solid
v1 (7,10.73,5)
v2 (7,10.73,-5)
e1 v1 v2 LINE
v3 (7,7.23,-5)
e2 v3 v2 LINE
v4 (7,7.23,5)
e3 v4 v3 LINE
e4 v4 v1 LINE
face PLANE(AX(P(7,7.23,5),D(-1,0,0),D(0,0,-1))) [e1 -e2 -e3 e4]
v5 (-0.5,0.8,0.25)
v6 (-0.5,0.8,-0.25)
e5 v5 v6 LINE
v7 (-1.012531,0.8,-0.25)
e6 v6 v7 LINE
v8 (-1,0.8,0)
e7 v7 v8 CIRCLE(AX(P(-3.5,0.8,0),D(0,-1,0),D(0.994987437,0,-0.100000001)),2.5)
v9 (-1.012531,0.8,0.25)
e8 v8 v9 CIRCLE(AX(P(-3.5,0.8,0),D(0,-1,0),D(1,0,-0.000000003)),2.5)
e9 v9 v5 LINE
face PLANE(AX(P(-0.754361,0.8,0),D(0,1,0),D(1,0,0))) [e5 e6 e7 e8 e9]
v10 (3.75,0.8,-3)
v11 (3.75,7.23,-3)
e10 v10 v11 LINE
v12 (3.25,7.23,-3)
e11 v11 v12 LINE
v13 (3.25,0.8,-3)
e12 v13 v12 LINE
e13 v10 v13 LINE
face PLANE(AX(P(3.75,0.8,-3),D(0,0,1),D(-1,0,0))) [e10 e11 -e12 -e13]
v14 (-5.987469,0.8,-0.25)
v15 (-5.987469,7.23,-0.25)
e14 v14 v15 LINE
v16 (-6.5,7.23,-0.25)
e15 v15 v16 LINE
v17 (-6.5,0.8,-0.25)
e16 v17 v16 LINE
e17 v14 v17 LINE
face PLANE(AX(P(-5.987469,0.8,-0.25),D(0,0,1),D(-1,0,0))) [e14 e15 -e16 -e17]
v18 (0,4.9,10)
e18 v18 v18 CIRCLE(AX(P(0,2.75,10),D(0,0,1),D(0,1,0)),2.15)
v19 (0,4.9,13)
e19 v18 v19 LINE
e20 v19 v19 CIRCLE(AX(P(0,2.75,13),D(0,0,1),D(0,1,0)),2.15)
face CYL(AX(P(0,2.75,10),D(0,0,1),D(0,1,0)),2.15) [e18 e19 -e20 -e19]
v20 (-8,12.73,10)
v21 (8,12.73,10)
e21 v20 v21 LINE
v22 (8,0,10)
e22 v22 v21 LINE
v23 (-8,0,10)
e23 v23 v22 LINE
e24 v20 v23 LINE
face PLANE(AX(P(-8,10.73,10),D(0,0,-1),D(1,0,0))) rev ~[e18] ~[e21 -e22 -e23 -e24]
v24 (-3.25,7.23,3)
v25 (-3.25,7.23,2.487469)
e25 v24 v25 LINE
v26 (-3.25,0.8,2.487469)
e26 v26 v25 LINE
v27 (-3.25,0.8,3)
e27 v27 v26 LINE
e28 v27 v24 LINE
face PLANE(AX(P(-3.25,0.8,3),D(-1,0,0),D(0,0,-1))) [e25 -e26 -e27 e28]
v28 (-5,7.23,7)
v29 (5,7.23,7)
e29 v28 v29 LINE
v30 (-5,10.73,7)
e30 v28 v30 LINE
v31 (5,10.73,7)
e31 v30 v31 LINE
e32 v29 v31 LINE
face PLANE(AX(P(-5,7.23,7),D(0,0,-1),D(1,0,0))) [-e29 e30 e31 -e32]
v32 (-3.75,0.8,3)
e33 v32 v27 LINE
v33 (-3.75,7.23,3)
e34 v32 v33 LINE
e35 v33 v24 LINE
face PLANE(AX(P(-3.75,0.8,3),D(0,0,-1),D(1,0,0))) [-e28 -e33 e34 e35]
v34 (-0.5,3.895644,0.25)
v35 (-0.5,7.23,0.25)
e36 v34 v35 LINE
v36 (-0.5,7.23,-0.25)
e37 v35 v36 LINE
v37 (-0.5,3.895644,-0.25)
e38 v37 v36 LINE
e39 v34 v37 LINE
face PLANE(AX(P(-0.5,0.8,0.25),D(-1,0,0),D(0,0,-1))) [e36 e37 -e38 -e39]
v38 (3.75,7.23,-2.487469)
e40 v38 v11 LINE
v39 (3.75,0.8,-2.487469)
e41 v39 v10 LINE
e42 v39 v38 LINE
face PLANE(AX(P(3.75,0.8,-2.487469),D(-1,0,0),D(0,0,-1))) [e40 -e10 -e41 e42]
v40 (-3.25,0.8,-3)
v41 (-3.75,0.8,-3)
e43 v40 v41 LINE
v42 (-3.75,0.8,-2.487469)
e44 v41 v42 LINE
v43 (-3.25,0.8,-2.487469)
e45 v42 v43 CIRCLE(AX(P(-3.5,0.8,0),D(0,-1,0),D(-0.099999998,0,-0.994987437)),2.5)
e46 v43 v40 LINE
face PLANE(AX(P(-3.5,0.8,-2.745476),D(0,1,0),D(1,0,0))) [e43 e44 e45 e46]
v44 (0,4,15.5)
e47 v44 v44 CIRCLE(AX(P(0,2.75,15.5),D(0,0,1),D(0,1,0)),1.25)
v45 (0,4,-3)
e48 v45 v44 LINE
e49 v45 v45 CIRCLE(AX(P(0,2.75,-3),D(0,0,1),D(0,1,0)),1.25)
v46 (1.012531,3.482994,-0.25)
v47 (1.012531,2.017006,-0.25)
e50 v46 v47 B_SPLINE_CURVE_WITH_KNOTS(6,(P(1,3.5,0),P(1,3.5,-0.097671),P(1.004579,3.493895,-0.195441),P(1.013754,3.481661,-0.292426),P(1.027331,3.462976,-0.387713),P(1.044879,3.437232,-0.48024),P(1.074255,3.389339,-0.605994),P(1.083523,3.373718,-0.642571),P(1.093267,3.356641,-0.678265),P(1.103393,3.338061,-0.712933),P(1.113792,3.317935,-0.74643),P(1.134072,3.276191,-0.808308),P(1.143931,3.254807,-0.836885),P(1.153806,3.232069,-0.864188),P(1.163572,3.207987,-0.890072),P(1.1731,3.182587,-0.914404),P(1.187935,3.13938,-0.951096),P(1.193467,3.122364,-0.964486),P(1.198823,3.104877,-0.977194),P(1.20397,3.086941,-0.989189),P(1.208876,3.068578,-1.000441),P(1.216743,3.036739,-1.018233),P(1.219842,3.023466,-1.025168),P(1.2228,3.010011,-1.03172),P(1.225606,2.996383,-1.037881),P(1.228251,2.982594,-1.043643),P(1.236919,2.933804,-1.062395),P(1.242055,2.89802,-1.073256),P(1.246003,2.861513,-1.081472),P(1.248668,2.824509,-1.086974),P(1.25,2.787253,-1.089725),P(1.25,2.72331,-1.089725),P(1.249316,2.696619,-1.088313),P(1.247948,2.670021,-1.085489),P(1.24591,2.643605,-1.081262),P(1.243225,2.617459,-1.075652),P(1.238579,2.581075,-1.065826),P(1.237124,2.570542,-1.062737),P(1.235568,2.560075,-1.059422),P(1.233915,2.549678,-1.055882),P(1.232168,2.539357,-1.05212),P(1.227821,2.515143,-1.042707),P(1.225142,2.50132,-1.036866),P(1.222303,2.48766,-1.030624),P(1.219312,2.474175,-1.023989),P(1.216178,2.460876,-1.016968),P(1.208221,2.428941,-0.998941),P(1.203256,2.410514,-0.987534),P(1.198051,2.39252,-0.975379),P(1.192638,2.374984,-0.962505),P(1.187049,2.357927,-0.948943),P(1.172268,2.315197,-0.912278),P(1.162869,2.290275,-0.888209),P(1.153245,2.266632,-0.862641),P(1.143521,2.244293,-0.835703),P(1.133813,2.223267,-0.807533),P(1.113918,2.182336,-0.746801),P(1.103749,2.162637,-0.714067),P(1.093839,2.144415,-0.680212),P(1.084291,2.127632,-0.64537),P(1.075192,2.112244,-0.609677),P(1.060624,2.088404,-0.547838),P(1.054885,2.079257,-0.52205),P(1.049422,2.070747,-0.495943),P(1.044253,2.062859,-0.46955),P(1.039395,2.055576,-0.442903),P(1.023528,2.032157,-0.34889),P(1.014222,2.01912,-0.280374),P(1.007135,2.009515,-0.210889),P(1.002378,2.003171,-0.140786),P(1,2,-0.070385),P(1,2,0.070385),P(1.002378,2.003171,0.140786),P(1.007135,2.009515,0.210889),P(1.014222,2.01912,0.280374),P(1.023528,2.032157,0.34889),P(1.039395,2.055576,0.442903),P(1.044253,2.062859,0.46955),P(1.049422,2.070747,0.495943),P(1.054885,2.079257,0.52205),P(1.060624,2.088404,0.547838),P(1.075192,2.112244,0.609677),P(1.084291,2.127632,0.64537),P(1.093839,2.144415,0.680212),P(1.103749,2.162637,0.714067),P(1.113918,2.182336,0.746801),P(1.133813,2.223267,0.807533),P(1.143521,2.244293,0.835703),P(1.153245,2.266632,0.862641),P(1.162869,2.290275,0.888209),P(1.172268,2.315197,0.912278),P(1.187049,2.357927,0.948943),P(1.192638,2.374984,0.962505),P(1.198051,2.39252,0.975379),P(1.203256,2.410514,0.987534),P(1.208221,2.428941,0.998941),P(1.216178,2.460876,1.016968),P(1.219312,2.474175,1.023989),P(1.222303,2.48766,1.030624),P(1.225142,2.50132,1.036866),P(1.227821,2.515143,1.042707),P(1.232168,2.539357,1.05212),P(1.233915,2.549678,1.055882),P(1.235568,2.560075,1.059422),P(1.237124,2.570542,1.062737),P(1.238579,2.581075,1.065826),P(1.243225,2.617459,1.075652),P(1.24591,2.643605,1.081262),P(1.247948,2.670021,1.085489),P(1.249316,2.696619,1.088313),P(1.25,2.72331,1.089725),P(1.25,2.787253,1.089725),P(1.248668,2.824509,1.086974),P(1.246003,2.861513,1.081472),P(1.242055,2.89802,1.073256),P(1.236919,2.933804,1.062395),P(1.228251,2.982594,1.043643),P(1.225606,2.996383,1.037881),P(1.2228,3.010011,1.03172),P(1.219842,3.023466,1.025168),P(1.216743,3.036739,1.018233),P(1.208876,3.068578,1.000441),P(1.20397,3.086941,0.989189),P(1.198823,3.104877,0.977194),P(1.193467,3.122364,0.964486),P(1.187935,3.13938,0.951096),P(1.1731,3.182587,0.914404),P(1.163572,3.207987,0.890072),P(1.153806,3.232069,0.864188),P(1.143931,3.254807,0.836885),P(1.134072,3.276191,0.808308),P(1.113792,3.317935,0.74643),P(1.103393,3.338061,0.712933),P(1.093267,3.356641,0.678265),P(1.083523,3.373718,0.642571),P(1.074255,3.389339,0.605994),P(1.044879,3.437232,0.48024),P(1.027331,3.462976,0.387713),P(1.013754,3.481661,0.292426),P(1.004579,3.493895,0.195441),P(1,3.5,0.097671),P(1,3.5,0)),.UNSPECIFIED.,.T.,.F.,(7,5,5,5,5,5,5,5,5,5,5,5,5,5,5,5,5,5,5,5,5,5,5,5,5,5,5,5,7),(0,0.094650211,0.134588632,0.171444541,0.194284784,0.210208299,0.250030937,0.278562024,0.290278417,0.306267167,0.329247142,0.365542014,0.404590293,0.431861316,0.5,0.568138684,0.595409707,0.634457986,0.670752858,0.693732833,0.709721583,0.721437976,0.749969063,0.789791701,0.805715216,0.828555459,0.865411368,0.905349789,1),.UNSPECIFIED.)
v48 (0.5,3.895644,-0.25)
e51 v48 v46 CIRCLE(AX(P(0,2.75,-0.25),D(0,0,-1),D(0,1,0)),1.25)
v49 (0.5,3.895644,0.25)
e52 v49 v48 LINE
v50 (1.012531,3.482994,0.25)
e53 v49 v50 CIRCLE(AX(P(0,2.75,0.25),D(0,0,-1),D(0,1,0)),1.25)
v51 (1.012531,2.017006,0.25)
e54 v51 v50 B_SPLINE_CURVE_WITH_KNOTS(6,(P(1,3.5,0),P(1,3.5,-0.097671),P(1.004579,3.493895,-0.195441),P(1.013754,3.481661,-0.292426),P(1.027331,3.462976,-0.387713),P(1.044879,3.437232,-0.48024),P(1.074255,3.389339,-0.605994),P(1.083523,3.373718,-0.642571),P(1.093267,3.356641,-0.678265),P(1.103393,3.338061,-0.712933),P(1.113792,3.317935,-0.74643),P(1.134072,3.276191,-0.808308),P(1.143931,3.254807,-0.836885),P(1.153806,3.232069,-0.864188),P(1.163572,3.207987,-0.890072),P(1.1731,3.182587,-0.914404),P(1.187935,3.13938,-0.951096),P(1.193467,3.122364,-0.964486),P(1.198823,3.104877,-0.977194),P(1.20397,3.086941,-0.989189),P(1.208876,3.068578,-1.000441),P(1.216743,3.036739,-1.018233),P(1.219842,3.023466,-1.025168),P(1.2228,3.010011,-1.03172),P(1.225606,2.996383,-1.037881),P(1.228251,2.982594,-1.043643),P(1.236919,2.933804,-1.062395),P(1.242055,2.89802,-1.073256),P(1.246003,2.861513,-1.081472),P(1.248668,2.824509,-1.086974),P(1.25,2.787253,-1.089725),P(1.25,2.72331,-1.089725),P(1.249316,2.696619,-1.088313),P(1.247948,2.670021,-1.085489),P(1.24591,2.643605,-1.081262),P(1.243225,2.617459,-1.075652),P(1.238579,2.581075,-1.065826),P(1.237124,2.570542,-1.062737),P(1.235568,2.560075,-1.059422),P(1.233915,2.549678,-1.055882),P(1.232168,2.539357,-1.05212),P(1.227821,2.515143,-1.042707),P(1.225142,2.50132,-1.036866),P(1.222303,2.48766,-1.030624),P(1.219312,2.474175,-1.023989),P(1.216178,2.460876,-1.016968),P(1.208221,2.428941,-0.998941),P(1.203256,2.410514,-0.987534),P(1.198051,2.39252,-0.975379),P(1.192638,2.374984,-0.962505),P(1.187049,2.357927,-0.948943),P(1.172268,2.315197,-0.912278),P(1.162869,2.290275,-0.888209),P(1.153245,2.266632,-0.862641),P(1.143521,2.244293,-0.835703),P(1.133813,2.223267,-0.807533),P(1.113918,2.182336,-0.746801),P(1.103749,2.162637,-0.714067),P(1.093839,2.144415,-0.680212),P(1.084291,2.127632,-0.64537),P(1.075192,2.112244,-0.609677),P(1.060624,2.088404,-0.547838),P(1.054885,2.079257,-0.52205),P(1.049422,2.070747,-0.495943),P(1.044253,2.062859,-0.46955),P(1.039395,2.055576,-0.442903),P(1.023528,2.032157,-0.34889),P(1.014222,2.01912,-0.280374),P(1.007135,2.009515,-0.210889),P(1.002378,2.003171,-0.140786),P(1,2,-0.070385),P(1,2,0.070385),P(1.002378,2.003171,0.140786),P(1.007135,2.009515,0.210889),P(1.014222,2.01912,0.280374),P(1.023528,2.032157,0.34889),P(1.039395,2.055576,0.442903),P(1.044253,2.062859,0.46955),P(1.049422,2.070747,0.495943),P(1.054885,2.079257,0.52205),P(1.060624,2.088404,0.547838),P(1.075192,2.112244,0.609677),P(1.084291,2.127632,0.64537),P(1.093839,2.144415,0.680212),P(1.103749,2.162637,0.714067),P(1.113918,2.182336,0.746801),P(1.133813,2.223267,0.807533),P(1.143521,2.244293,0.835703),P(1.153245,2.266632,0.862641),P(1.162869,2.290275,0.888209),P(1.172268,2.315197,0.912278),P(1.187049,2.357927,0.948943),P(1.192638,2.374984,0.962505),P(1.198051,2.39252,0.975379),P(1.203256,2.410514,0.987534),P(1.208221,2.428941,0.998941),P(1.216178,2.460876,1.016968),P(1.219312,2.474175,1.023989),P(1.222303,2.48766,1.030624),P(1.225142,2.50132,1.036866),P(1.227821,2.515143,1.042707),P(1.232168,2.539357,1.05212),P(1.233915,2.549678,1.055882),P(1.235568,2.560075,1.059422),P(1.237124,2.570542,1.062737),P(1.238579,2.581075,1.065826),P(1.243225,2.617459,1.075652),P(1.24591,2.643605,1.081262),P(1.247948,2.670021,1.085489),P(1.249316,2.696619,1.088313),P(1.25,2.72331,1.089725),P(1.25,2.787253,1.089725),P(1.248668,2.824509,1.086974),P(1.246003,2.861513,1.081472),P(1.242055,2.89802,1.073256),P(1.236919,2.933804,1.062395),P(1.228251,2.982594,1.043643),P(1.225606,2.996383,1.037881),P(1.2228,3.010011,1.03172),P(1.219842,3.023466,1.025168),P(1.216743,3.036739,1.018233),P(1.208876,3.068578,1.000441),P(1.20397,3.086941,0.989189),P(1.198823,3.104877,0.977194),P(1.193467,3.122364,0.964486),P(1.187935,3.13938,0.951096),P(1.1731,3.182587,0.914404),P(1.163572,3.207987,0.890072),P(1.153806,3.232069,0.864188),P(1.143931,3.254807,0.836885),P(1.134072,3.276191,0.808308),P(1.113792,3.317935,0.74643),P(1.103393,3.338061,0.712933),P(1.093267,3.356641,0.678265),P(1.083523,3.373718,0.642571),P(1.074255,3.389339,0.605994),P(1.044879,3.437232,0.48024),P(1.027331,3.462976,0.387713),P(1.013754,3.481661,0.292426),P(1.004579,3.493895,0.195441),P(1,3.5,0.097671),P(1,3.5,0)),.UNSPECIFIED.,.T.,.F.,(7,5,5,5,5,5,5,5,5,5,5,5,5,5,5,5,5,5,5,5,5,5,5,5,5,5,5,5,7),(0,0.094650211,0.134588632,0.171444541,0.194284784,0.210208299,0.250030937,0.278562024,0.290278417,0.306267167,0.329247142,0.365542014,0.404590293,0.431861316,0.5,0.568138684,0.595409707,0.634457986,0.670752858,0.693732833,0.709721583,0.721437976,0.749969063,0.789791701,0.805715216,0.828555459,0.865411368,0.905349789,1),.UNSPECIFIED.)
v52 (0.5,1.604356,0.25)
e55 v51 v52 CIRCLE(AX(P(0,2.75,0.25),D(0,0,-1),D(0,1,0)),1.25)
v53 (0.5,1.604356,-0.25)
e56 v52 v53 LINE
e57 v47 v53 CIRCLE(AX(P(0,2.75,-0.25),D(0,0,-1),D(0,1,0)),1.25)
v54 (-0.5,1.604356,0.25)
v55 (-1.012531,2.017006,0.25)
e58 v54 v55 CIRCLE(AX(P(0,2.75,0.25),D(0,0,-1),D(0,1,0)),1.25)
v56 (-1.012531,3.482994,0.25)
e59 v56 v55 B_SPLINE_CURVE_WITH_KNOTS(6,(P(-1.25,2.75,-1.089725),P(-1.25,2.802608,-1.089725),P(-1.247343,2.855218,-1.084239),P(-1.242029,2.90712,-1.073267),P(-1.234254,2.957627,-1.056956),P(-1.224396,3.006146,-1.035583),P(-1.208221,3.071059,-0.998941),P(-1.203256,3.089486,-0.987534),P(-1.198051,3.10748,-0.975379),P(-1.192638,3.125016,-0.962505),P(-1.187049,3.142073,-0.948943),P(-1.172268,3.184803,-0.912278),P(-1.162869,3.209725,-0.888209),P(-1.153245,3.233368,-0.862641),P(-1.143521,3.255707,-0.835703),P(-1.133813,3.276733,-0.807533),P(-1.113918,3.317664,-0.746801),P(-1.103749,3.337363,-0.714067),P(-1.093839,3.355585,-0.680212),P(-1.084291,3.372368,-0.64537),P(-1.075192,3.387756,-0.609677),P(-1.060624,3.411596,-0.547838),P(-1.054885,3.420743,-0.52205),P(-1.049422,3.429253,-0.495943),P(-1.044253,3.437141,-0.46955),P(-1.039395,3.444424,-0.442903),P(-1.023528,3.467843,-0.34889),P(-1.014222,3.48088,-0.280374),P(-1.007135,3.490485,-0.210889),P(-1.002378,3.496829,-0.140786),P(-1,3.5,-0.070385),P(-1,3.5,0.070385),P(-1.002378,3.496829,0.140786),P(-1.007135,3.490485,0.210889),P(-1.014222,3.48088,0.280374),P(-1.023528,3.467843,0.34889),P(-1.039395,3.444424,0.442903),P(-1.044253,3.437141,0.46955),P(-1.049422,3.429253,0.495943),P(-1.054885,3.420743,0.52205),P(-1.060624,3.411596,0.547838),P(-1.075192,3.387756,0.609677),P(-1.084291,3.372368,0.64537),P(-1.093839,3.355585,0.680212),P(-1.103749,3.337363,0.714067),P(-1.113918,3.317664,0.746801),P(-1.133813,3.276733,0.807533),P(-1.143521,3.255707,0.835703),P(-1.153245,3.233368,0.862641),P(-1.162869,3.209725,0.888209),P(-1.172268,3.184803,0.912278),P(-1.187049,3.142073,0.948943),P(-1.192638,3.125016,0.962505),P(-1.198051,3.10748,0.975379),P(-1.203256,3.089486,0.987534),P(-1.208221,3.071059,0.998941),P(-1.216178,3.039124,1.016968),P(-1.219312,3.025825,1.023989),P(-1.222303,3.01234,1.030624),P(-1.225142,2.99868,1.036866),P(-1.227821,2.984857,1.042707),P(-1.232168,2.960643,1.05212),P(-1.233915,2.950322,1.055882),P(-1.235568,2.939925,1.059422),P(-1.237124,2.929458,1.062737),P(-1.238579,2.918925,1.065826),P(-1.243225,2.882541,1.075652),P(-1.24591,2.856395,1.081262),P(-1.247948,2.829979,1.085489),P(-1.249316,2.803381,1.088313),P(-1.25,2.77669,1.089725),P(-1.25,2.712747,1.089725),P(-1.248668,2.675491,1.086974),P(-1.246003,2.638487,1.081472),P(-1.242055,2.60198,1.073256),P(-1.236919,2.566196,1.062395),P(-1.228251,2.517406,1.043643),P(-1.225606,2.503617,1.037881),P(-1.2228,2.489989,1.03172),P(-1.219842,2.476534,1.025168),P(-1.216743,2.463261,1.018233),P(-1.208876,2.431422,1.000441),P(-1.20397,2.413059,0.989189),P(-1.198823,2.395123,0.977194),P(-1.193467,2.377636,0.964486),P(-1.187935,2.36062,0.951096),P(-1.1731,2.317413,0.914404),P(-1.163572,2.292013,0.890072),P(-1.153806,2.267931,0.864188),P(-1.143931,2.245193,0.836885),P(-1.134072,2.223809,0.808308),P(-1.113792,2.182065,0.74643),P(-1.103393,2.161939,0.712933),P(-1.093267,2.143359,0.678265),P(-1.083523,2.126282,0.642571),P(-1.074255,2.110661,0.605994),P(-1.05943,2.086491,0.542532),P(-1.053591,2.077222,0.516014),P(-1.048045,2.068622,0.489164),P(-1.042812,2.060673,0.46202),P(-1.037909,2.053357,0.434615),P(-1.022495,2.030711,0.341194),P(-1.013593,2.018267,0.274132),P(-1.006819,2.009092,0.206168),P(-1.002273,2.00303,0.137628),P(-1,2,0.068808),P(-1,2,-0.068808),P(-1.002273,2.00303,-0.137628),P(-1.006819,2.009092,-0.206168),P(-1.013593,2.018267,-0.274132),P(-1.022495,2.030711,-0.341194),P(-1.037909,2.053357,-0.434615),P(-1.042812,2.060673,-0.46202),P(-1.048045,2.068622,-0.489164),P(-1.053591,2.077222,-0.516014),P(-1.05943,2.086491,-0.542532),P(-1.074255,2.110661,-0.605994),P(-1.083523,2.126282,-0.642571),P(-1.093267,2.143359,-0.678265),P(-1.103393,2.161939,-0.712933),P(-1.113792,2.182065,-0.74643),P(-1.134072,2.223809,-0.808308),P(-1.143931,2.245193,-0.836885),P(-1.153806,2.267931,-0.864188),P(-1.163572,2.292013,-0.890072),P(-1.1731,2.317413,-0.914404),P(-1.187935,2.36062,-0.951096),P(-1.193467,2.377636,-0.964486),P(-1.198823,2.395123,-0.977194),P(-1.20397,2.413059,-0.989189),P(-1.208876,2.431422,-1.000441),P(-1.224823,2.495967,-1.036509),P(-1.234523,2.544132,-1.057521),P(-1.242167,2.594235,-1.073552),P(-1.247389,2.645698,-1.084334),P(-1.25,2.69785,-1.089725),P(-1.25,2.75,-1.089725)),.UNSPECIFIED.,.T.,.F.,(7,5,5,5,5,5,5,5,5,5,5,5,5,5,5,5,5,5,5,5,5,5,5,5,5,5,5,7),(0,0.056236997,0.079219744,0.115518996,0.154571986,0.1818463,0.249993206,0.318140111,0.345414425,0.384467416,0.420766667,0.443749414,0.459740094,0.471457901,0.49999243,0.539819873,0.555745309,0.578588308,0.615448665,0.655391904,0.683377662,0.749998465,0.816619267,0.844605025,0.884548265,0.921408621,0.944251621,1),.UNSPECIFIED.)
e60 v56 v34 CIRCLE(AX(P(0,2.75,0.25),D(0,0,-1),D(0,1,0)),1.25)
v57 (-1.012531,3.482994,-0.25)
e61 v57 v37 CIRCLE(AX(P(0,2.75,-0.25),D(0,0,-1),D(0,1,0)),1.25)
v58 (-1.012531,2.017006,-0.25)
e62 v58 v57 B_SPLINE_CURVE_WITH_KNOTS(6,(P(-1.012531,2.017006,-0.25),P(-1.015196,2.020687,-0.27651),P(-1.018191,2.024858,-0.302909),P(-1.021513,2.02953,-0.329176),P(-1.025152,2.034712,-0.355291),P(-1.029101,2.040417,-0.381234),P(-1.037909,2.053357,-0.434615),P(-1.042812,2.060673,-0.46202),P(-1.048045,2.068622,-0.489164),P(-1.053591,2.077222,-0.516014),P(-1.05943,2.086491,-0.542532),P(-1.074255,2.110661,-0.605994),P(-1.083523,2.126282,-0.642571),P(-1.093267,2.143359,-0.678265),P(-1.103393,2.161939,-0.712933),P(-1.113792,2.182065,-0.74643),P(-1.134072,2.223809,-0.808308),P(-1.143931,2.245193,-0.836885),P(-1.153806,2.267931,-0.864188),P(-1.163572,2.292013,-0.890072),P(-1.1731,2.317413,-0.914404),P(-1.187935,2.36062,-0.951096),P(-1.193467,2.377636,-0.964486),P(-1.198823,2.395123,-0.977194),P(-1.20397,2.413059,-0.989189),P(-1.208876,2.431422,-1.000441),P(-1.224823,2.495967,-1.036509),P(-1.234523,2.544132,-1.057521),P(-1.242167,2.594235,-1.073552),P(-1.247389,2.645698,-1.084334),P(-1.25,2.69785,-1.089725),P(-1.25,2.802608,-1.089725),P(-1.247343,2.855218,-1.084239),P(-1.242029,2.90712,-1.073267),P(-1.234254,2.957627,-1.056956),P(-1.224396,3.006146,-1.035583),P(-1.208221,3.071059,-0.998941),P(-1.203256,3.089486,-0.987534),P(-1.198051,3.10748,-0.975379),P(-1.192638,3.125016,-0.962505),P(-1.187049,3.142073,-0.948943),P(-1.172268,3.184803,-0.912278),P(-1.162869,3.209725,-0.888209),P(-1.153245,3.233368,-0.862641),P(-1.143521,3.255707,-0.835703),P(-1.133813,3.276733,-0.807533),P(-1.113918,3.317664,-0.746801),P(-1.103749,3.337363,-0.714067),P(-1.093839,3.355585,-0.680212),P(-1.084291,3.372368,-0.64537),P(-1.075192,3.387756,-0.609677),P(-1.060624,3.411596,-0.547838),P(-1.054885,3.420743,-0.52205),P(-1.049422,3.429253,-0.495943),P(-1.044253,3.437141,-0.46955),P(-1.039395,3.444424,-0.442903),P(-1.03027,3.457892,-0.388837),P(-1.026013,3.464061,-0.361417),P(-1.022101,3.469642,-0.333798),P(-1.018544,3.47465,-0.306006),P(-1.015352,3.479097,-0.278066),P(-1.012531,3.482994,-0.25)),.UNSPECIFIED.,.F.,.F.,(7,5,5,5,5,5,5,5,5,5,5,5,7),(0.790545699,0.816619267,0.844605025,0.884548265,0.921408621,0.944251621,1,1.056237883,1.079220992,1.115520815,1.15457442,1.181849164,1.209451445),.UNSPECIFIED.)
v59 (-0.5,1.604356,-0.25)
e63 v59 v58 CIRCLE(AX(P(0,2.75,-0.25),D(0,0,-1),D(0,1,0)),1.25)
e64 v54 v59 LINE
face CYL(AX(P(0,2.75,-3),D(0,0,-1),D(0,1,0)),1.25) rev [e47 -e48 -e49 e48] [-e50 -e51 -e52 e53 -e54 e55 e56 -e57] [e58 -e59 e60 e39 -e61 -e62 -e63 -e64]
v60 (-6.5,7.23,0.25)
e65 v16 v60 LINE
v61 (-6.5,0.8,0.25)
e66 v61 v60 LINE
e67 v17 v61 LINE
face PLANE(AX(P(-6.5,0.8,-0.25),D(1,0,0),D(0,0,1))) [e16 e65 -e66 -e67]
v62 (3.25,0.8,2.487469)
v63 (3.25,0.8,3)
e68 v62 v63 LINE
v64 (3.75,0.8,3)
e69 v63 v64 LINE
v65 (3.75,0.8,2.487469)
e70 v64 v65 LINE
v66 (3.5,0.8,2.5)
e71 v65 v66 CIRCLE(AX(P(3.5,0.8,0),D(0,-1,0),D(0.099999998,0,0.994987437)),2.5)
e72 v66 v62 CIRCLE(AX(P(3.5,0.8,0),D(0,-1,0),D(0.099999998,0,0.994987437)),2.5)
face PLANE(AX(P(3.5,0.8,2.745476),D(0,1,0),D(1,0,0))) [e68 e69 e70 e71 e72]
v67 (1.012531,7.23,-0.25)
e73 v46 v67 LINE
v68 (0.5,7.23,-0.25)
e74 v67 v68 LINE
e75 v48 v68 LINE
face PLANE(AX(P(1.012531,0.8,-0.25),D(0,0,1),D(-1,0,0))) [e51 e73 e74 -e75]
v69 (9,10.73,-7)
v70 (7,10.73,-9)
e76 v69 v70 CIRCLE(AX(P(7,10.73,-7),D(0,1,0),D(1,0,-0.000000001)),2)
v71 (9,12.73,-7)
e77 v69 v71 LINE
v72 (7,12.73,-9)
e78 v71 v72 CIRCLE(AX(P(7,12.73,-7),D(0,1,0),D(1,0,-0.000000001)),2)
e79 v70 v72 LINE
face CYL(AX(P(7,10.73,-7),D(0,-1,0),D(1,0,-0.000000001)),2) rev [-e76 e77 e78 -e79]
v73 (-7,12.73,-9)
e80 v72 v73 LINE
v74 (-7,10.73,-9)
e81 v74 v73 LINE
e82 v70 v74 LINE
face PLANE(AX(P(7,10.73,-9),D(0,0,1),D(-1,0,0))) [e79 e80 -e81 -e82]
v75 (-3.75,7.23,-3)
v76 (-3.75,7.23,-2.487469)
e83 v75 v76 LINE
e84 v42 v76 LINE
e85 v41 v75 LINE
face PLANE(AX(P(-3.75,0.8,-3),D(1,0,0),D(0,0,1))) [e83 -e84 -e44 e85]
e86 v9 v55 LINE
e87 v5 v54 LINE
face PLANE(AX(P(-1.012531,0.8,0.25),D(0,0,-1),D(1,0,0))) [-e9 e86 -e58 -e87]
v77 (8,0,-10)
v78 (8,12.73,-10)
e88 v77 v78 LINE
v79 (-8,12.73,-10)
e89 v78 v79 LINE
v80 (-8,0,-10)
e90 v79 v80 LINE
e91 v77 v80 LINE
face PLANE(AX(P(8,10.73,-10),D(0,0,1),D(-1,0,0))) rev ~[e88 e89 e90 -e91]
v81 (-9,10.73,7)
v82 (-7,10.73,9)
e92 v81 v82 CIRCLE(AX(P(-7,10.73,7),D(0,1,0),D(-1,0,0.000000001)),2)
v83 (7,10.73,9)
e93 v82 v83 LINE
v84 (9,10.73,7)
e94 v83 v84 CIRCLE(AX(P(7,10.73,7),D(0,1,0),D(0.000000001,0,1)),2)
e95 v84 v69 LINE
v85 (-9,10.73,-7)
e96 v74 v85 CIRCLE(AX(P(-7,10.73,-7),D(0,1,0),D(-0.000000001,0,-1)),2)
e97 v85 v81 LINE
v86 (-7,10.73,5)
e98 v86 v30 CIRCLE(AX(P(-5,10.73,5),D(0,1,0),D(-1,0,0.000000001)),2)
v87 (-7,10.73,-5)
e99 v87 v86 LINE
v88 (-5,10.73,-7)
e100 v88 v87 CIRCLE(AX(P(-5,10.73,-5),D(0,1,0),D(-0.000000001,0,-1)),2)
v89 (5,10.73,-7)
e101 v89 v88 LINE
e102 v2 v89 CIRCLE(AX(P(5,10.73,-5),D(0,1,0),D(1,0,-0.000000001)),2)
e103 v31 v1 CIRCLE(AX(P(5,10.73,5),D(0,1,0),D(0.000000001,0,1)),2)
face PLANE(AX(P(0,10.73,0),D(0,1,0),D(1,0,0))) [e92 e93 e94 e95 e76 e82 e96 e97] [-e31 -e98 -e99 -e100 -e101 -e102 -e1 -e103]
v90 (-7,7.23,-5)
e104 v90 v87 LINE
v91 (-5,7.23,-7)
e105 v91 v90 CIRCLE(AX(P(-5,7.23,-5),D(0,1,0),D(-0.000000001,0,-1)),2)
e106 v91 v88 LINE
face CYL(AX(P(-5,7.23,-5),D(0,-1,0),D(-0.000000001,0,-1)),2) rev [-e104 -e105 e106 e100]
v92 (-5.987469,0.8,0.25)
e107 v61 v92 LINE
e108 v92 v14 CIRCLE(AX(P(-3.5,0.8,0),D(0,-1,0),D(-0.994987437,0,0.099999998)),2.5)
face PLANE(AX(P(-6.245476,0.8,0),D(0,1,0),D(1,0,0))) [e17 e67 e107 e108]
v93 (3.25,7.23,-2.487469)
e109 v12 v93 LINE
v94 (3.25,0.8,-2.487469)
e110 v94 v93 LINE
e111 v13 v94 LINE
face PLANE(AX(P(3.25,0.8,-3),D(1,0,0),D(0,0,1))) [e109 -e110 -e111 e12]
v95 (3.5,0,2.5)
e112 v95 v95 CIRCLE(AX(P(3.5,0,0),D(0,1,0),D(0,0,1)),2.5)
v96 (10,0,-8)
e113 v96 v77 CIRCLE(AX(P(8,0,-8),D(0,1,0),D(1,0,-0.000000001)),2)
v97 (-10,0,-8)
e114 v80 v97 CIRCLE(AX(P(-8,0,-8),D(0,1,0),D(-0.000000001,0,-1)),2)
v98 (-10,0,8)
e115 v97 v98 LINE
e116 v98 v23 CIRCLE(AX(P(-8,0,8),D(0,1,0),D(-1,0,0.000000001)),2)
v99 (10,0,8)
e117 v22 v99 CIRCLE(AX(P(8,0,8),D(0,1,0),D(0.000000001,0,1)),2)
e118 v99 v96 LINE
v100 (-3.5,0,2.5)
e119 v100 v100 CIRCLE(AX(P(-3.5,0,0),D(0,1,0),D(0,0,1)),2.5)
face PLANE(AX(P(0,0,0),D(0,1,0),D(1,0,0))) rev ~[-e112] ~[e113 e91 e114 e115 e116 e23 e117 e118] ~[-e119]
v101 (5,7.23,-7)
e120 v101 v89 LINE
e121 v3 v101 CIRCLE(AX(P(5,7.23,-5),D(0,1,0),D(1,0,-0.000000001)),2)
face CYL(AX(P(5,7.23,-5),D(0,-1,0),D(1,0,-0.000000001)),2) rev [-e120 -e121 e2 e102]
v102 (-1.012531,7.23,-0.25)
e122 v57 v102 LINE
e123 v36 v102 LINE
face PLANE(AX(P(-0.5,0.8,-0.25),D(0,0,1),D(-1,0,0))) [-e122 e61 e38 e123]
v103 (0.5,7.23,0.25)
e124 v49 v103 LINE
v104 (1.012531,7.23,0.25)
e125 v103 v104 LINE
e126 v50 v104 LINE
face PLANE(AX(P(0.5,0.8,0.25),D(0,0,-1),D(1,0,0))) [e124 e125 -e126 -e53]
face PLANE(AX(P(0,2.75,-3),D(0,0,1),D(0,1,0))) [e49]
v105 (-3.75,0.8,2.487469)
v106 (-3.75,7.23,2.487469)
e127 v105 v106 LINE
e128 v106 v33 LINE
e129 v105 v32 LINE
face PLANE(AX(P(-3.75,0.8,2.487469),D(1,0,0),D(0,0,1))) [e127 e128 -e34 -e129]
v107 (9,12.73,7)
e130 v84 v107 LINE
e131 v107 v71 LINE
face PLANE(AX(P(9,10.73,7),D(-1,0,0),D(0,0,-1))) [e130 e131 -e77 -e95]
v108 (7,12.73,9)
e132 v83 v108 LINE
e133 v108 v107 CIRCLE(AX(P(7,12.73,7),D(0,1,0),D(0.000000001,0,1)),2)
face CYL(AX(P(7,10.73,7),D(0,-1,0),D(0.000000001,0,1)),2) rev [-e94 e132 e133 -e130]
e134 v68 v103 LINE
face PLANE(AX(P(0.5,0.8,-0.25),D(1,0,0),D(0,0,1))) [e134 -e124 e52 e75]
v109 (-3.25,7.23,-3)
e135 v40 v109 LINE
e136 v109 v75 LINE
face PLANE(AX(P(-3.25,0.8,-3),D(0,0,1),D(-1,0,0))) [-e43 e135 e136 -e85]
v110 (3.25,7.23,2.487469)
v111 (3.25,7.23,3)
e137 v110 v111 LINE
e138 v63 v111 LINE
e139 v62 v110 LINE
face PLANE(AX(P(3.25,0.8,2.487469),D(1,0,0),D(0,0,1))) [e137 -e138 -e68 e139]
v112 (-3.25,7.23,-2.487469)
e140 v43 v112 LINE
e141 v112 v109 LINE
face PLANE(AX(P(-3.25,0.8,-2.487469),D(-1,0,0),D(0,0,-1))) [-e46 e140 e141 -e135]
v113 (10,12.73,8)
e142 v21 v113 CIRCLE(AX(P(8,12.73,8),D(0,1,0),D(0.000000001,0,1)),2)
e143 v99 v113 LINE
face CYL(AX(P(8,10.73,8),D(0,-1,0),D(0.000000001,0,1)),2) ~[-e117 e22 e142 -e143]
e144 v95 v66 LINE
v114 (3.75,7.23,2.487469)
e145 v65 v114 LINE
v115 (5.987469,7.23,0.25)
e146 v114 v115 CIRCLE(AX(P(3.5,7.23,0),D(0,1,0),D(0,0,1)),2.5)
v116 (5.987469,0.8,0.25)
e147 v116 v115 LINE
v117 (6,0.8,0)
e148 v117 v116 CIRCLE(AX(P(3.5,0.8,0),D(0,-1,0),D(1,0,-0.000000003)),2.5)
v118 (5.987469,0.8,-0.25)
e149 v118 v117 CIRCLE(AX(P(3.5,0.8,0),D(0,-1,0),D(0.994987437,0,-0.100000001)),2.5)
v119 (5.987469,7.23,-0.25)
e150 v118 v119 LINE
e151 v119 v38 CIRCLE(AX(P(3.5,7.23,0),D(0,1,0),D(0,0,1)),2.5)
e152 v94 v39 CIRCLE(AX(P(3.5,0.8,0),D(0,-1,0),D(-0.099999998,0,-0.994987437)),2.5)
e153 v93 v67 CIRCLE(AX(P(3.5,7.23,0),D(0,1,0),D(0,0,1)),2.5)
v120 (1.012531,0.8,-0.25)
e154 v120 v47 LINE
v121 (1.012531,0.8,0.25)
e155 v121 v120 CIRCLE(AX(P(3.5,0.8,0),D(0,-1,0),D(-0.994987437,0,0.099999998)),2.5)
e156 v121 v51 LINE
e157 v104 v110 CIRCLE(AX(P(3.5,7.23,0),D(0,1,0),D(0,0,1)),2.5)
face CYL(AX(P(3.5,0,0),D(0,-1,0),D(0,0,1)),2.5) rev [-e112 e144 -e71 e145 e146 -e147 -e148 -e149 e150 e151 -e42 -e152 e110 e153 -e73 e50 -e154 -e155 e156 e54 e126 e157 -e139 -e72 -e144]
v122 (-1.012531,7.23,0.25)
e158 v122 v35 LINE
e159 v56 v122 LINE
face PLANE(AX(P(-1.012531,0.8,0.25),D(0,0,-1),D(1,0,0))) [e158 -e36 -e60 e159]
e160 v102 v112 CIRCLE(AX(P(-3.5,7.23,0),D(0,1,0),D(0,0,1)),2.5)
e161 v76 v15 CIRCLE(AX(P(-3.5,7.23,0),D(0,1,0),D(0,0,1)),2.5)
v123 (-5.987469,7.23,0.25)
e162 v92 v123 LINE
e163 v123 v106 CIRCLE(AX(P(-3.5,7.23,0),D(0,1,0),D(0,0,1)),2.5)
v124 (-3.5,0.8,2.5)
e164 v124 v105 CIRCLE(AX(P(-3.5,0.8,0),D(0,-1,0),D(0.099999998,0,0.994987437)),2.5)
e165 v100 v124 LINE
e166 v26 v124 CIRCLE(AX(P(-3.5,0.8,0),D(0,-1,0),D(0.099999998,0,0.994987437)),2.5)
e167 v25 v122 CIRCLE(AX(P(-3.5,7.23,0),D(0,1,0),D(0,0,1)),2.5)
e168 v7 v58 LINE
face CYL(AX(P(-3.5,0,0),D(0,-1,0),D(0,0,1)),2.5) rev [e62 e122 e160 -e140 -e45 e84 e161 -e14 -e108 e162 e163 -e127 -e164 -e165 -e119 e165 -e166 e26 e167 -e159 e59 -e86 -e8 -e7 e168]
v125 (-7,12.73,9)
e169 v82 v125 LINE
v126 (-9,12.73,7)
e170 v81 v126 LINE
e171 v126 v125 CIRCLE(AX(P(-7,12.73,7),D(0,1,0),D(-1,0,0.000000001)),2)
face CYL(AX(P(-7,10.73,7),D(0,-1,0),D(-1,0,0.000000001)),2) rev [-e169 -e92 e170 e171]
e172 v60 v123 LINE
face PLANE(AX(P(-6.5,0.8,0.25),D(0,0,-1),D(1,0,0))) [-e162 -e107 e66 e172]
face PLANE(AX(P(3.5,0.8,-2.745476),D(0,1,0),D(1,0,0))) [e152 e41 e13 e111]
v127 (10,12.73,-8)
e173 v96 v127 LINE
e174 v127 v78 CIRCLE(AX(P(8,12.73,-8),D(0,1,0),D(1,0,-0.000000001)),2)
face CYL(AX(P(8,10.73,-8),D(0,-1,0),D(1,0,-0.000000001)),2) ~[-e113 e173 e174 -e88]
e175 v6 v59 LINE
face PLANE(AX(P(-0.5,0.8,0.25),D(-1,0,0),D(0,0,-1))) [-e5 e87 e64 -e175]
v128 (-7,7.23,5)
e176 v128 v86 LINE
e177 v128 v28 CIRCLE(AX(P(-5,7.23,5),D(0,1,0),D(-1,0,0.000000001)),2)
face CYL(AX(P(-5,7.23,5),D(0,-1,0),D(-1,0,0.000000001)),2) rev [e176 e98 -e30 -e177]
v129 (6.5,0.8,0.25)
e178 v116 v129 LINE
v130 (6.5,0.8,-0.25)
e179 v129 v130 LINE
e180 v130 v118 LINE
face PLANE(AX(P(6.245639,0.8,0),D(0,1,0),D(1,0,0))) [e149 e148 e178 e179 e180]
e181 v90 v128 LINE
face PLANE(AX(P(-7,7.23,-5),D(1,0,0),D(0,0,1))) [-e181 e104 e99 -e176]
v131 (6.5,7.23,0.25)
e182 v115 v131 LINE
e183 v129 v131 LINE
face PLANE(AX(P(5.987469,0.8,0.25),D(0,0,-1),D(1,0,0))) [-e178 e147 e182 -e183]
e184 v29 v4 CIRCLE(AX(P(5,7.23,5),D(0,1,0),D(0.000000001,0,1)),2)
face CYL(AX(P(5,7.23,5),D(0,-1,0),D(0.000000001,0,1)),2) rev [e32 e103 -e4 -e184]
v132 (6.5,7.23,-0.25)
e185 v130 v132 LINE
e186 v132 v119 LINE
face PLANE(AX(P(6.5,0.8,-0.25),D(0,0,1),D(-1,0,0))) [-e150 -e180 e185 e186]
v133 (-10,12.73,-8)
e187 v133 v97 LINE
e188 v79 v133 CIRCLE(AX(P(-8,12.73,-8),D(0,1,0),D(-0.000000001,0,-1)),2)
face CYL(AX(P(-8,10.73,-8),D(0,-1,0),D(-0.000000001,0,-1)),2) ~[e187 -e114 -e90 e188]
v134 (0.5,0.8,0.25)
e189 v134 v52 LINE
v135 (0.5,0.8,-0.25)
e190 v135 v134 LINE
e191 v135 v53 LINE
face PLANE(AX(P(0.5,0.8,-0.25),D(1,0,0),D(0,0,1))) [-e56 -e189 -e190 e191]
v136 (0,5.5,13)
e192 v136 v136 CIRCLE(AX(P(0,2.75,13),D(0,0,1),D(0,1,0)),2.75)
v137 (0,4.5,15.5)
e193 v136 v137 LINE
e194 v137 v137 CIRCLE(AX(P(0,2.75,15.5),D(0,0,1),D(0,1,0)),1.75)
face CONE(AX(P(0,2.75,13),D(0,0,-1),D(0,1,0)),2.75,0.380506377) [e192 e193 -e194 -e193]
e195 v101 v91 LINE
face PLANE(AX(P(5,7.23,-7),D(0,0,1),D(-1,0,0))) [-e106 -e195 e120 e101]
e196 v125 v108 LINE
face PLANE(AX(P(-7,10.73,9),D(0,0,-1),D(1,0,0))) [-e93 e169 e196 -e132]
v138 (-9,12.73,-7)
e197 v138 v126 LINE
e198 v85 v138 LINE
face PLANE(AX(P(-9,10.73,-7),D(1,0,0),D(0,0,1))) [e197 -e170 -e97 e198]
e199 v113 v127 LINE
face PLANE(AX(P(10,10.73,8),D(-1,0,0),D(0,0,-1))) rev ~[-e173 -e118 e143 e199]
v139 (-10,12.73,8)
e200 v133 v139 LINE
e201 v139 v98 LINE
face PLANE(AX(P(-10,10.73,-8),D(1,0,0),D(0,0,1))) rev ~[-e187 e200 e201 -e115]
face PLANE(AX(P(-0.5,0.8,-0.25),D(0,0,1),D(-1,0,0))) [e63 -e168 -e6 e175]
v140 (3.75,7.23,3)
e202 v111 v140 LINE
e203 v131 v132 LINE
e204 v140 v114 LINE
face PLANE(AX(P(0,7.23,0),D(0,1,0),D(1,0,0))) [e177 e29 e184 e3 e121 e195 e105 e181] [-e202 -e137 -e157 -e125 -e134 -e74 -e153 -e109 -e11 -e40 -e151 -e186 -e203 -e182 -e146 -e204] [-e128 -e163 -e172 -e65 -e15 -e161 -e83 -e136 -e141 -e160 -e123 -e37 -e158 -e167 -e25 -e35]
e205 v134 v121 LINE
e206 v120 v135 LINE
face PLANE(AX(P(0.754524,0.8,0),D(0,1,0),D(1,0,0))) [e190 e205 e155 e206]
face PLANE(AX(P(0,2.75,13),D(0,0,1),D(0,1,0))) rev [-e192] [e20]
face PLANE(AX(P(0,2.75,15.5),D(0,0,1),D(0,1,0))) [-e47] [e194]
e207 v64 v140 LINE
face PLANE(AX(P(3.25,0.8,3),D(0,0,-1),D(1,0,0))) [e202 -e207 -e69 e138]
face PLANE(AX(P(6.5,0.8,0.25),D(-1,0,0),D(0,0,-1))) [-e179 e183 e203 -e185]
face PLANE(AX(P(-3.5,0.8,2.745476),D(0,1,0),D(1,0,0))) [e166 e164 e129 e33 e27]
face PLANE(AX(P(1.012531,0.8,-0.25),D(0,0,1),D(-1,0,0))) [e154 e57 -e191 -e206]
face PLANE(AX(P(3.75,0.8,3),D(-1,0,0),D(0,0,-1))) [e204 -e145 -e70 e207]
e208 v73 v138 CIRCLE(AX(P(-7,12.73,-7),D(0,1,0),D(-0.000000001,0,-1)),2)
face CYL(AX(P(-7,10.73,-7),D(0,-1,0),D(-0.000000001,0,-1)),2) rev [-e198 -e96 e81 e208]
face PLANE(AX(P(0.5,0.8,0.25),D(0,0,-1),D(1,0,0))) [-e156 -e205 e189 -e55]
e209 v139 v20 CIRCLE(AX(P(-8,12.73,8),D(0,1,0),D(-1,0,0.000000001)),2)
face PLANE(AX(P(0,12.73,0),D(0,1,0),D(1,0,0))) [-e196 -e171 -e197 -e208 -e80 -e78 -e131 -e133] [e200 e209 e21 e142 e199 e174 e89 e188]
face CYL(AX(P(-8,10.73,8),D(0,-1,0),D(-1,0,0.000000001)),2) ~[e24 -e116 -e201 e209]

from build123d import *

# Parameters (mm, degrees)
SKETCH1_R           = 2.5
BOSS_EXTRUDE1_DEPTH = 7.23
CUT_EXTRUDE1_START  = -6.43
CUT_EXTRUDE1_DEPTH  = 6.43
CUT_EXTRUDE2_START  = -13
SKETCH5_R           = 1.25
CUT_EXTRUDE2_DEPTH  = 13
BOSS_EXTRUDE2_DEPTH = 3.5
BOSS_EXTRUDE3_DEPTH = 2


with BuildPart() as part:
    # Sketch1 → Boss-Extrude1 (new body)
    with BuildSketch(Plane(origin=(0, 0, 0), x_dir=(1, 0, 0), z_dir=(0, 1, 0))):
        with BuildLine():
            Line((-8, -10), (8, -10))
            ThreePointArc((8, -10), (9.414213562, -9.414213562), (10, -8))
            Line((10, -8), (10, 8))
            ThreePointArc((10, 8), (9.414213562, 9.414213562), (8, 10))
            Line((8, 10), (-8, 10))
            ThreePointArc((-8, 10), (-9.414213562, 9.414213562), (-10, 8))
            Line((-10, 8), (-10, -8))
            ThreePointArc((-10, -8), (-9.414213562, -9.414213562), (-8, -10))
        make_face()
        with Locations(Location((3.5, 0, 0), (0, 0, 270))):
            Circle(SKETCH1_R, mode=Mode.SUBTRACT)
        with Locations(Location((-3.5, 0, 0), (0, 0, 270))):
            Circle(SKETCH1_R, mode=Mode.SUBTRACT)
    extrude(amount=BOSS_EXTRUDE1_DEPTH)

    # Sketch2 → Cut-Extrude1 (cut)
    with BuildSketch(Plane(origin=(0, 7.23, 0), x_dir=(1, 0, 0), z_dir=(0, 1, 0)).offset(CUT_EXTRUDE1_START)):
        with BuildLine():
            Line((3.25, 3), (3.25, 2.487468593))
            ThreePointArc((3.25, 2.487468593), (3.5, 2.5), (3.75, 2.487468593))
            Line((3.75, 2.487468593), (3.75, 3))
            Line((3.75, 3), (3.25, 3))
        make_face()
        with BuildLine():
            ThreePointArc((6, 0), (5.996865183, -0.125156938), (5.987468593, -0.25))
            Line((5.987468593, -0.25), (6.5, -0.25))
            Line((6.5, -0.25), (6.5, 0.25))
            Line((6.5, 0.25), (5.987468593, 0.25))
            ThreePointArc((5.987468593, 0.25), (5.996865183, 0.125156938), (6, 0))
        make_face()
        with BuildLine():
            Line((3.25, -2.487468593), (3.25, -3))
            Line((3.25, -3), (3.75, -3))
            Line((3.75, -3), (3.75, -2.487468593))
            ThreePointArc((3.75, -2.487468593), (3.5, -2.5), (3.25, -2.487468593))
        make_face()
        with BuildLine():
            Line((0.5, -0.25), (1.012531407, -0.25))
            ThreePointArc((1.012531407, -0.25), (1, 0), (1.012531407, 0.25))
            Line((1.012531407, 0.25), (0.5, 0.25))
            Line((0.5, 0.25), (0.5, -0.25))
        make_face()
        with BuildLine():
            ThreePointArc((-1, 0), (-1.003134817, -0.125156938), (-1.012531407, -0.25))
            Line((-1.012531407, -0.25), (-0.5, -0.25))
            Line((-0.5, -0.25), (-0.5, 0.25))
            Line((-0.5, 0.25), (-1.012531407, 0.25))
            ThreePointArc((-1.012531407, 0.25), (-1.003134817, 0.125156938), (-1, 0))
        make_face()
        with BuildLine():
            Line((-3.75, 3), (-3.75, 2.487468593))
            ThreePointArc((-3.75, 2.487468593), (-3.5, 2.5), (-3.25, 2.487468593))
            Line((-3.25, 2.487468593), (-3.25, 3))
            Line((-3.25, 3), (-3.75, 3))
        make_face()
        with BuildLine():
            Line((-6.5, 0.25), (-6.5, -0.25))
            Line((-6.5, -0.25), (-5.987468593, -0.25))
            ThreePointArc((-5.987468593, -0.25), (-6, 0), (-5.987468593, 0.25))
            Line((-5.987468593, 0.25), (-6.5, 0.25))
        make_face()
        with BuildLine():
            ThreePointArc((-3.25, -2.487468593), (-3.5, -2.5), (-3.75, -2.487468593))
            Line((-3.75, -2.487468593), (-3.75, -3))
            Line((-3.75, -3), (-3.25, -3))
            Line((-3.25, -3), (-3.25, -2.487468593))
        make_face()
    extrude(amount=CUT_EXTRUDE1_DEPTH, mode=Mode.SUBTRACT)

    # Sketch3 → Revolve1 (revolve)
    with BuildSketch(Plane(origin=(0, 0, 0), x_dir=(0, 0, -1), z_dir=(1, 0, 0)), mode=Mode.PRIVATE) as revolve1_sk:
        Polygon((-10, 0.6), (-13, 0.6), (-13, 0), (-15.5, 1), (-15.5, 1.5), (-10, 1.5), align=None)
    revolve(revolve1_sk.sketch.rotate(Axis((0, 2.75, 10), (0, 0, 1)), 180), axis=Axis((0, 2.75, 10), (0, 0, 1)))

    # Sketch5 → Cut-Extrude2 (cut)
    with BuildSketch(Plane.XY.offset(10).offset(CUT_EXTRUDE2_START)):
        with Locations(Location((0, 2.75, 0), (0, 0, 90))):
            Circle(SKETCH5_R)
    extrude(amount=CUT_EXTRUDE2_DEPTH, mode=Mode.SUBTRACT)

    # Sketch6 → Boss-Extrude2 (add)
    with BuildSketch(Plane(origin=(0, 7.23, 0), x_dir=(1, 0, 0), z_dir=(0, 1, 0))):
        with BuildLine():
            Line((-8, -10), (8, -10))
            ThreePointArc((8, -10), (9.414213562, -9.414213562), (10, -8))
            Line((10, -8), (10, 8))
            ThreePointArc((10, 8), (9.414213562, 9.414213562), (8, 10))
            Line((8, 10), (-8, 10))
            ThreePointArc((-8, 10), (-9.414213562, 9.414213562), (-10, 8))
            Line((-10, 8), (-10, -8))
            ThreePointArc((-10, -8), (-9.414213562, -9.414213562), (-8, -10))
        make_face()
        with BuildLine():
            Line((-5, -7), (5, -7))
            ThreePointArc((5, -7), (6.414213562, -6.414213562), (7, -5))
            Line((7, -5), (7, 5))
            ThreePointArc((7, 5), (6.414213562, 6.414213562), (5, 7))
            Line((5, 7), (-5, 7))
            ThreePointArc((-5, 7), (-6.414213562, 6.414213562), (-7, 5))
            Line((-7, 5), (-7, -5))
            ThreePointArc((-7, -5), (-6.414213562, -6.414213562), (-5, -7))
        make_face(mode=Mode.SUBTRACT)
    extrude(amount=BOSS_EXTRUDE2_DEPTH)

    # Sketch8 → Boss-Extrude3 (add)
    with BuildSketch(Plane(origin=(0, 10.73, 0), x_dir=(1, 0, 0), z_dir=(0, 1, 0))):
        with BuildLine():
            Line((-8, -10), (8, -10))
            ThreePointArc((8, -10), (9.414213562, -9.414213562), (10, -8))
            Line((10, -8), (10, 8))
            ThreePointArc((10, 8), (9.414213562, 9.414213562), (8, 10))
            Line((8, 10), (-8, 10))
            ThreePointArc((-8, 10), (-9.414213562, 9.414213562), (-10, 8))
            Line((-10, 8), (-10, -8))
            ThreePointArc((-10, -8), (-9.414213562, -9.414213562), (-8, -10))
        make_face()
        with BuildLine():
            Line((-7, -9), (7, -9))
            ThreePointArc((7, -9), (8.414213562, -8.414213562), (9, -7))
            Line((9, -7), (9, 7))
            ThreePointArc((9, 7), (8.414213562, 8.414213562), (7, 9))
            Line((7, 9), (-7, 9))
            ThreePointArc((-7, 9), (-8.414213562, 8.414213562), (-9, 7))
            Line((-9, 7), (-9, -7))
            ThreePointArc((-9, -7), (-8.414213562, -8.414213562), (-7, -9))
        make_face(mode=Mode.SUBTRACT)
    extrude(amount=BOSS_EXTRUDE3_DEPTH)


solid = part.part
